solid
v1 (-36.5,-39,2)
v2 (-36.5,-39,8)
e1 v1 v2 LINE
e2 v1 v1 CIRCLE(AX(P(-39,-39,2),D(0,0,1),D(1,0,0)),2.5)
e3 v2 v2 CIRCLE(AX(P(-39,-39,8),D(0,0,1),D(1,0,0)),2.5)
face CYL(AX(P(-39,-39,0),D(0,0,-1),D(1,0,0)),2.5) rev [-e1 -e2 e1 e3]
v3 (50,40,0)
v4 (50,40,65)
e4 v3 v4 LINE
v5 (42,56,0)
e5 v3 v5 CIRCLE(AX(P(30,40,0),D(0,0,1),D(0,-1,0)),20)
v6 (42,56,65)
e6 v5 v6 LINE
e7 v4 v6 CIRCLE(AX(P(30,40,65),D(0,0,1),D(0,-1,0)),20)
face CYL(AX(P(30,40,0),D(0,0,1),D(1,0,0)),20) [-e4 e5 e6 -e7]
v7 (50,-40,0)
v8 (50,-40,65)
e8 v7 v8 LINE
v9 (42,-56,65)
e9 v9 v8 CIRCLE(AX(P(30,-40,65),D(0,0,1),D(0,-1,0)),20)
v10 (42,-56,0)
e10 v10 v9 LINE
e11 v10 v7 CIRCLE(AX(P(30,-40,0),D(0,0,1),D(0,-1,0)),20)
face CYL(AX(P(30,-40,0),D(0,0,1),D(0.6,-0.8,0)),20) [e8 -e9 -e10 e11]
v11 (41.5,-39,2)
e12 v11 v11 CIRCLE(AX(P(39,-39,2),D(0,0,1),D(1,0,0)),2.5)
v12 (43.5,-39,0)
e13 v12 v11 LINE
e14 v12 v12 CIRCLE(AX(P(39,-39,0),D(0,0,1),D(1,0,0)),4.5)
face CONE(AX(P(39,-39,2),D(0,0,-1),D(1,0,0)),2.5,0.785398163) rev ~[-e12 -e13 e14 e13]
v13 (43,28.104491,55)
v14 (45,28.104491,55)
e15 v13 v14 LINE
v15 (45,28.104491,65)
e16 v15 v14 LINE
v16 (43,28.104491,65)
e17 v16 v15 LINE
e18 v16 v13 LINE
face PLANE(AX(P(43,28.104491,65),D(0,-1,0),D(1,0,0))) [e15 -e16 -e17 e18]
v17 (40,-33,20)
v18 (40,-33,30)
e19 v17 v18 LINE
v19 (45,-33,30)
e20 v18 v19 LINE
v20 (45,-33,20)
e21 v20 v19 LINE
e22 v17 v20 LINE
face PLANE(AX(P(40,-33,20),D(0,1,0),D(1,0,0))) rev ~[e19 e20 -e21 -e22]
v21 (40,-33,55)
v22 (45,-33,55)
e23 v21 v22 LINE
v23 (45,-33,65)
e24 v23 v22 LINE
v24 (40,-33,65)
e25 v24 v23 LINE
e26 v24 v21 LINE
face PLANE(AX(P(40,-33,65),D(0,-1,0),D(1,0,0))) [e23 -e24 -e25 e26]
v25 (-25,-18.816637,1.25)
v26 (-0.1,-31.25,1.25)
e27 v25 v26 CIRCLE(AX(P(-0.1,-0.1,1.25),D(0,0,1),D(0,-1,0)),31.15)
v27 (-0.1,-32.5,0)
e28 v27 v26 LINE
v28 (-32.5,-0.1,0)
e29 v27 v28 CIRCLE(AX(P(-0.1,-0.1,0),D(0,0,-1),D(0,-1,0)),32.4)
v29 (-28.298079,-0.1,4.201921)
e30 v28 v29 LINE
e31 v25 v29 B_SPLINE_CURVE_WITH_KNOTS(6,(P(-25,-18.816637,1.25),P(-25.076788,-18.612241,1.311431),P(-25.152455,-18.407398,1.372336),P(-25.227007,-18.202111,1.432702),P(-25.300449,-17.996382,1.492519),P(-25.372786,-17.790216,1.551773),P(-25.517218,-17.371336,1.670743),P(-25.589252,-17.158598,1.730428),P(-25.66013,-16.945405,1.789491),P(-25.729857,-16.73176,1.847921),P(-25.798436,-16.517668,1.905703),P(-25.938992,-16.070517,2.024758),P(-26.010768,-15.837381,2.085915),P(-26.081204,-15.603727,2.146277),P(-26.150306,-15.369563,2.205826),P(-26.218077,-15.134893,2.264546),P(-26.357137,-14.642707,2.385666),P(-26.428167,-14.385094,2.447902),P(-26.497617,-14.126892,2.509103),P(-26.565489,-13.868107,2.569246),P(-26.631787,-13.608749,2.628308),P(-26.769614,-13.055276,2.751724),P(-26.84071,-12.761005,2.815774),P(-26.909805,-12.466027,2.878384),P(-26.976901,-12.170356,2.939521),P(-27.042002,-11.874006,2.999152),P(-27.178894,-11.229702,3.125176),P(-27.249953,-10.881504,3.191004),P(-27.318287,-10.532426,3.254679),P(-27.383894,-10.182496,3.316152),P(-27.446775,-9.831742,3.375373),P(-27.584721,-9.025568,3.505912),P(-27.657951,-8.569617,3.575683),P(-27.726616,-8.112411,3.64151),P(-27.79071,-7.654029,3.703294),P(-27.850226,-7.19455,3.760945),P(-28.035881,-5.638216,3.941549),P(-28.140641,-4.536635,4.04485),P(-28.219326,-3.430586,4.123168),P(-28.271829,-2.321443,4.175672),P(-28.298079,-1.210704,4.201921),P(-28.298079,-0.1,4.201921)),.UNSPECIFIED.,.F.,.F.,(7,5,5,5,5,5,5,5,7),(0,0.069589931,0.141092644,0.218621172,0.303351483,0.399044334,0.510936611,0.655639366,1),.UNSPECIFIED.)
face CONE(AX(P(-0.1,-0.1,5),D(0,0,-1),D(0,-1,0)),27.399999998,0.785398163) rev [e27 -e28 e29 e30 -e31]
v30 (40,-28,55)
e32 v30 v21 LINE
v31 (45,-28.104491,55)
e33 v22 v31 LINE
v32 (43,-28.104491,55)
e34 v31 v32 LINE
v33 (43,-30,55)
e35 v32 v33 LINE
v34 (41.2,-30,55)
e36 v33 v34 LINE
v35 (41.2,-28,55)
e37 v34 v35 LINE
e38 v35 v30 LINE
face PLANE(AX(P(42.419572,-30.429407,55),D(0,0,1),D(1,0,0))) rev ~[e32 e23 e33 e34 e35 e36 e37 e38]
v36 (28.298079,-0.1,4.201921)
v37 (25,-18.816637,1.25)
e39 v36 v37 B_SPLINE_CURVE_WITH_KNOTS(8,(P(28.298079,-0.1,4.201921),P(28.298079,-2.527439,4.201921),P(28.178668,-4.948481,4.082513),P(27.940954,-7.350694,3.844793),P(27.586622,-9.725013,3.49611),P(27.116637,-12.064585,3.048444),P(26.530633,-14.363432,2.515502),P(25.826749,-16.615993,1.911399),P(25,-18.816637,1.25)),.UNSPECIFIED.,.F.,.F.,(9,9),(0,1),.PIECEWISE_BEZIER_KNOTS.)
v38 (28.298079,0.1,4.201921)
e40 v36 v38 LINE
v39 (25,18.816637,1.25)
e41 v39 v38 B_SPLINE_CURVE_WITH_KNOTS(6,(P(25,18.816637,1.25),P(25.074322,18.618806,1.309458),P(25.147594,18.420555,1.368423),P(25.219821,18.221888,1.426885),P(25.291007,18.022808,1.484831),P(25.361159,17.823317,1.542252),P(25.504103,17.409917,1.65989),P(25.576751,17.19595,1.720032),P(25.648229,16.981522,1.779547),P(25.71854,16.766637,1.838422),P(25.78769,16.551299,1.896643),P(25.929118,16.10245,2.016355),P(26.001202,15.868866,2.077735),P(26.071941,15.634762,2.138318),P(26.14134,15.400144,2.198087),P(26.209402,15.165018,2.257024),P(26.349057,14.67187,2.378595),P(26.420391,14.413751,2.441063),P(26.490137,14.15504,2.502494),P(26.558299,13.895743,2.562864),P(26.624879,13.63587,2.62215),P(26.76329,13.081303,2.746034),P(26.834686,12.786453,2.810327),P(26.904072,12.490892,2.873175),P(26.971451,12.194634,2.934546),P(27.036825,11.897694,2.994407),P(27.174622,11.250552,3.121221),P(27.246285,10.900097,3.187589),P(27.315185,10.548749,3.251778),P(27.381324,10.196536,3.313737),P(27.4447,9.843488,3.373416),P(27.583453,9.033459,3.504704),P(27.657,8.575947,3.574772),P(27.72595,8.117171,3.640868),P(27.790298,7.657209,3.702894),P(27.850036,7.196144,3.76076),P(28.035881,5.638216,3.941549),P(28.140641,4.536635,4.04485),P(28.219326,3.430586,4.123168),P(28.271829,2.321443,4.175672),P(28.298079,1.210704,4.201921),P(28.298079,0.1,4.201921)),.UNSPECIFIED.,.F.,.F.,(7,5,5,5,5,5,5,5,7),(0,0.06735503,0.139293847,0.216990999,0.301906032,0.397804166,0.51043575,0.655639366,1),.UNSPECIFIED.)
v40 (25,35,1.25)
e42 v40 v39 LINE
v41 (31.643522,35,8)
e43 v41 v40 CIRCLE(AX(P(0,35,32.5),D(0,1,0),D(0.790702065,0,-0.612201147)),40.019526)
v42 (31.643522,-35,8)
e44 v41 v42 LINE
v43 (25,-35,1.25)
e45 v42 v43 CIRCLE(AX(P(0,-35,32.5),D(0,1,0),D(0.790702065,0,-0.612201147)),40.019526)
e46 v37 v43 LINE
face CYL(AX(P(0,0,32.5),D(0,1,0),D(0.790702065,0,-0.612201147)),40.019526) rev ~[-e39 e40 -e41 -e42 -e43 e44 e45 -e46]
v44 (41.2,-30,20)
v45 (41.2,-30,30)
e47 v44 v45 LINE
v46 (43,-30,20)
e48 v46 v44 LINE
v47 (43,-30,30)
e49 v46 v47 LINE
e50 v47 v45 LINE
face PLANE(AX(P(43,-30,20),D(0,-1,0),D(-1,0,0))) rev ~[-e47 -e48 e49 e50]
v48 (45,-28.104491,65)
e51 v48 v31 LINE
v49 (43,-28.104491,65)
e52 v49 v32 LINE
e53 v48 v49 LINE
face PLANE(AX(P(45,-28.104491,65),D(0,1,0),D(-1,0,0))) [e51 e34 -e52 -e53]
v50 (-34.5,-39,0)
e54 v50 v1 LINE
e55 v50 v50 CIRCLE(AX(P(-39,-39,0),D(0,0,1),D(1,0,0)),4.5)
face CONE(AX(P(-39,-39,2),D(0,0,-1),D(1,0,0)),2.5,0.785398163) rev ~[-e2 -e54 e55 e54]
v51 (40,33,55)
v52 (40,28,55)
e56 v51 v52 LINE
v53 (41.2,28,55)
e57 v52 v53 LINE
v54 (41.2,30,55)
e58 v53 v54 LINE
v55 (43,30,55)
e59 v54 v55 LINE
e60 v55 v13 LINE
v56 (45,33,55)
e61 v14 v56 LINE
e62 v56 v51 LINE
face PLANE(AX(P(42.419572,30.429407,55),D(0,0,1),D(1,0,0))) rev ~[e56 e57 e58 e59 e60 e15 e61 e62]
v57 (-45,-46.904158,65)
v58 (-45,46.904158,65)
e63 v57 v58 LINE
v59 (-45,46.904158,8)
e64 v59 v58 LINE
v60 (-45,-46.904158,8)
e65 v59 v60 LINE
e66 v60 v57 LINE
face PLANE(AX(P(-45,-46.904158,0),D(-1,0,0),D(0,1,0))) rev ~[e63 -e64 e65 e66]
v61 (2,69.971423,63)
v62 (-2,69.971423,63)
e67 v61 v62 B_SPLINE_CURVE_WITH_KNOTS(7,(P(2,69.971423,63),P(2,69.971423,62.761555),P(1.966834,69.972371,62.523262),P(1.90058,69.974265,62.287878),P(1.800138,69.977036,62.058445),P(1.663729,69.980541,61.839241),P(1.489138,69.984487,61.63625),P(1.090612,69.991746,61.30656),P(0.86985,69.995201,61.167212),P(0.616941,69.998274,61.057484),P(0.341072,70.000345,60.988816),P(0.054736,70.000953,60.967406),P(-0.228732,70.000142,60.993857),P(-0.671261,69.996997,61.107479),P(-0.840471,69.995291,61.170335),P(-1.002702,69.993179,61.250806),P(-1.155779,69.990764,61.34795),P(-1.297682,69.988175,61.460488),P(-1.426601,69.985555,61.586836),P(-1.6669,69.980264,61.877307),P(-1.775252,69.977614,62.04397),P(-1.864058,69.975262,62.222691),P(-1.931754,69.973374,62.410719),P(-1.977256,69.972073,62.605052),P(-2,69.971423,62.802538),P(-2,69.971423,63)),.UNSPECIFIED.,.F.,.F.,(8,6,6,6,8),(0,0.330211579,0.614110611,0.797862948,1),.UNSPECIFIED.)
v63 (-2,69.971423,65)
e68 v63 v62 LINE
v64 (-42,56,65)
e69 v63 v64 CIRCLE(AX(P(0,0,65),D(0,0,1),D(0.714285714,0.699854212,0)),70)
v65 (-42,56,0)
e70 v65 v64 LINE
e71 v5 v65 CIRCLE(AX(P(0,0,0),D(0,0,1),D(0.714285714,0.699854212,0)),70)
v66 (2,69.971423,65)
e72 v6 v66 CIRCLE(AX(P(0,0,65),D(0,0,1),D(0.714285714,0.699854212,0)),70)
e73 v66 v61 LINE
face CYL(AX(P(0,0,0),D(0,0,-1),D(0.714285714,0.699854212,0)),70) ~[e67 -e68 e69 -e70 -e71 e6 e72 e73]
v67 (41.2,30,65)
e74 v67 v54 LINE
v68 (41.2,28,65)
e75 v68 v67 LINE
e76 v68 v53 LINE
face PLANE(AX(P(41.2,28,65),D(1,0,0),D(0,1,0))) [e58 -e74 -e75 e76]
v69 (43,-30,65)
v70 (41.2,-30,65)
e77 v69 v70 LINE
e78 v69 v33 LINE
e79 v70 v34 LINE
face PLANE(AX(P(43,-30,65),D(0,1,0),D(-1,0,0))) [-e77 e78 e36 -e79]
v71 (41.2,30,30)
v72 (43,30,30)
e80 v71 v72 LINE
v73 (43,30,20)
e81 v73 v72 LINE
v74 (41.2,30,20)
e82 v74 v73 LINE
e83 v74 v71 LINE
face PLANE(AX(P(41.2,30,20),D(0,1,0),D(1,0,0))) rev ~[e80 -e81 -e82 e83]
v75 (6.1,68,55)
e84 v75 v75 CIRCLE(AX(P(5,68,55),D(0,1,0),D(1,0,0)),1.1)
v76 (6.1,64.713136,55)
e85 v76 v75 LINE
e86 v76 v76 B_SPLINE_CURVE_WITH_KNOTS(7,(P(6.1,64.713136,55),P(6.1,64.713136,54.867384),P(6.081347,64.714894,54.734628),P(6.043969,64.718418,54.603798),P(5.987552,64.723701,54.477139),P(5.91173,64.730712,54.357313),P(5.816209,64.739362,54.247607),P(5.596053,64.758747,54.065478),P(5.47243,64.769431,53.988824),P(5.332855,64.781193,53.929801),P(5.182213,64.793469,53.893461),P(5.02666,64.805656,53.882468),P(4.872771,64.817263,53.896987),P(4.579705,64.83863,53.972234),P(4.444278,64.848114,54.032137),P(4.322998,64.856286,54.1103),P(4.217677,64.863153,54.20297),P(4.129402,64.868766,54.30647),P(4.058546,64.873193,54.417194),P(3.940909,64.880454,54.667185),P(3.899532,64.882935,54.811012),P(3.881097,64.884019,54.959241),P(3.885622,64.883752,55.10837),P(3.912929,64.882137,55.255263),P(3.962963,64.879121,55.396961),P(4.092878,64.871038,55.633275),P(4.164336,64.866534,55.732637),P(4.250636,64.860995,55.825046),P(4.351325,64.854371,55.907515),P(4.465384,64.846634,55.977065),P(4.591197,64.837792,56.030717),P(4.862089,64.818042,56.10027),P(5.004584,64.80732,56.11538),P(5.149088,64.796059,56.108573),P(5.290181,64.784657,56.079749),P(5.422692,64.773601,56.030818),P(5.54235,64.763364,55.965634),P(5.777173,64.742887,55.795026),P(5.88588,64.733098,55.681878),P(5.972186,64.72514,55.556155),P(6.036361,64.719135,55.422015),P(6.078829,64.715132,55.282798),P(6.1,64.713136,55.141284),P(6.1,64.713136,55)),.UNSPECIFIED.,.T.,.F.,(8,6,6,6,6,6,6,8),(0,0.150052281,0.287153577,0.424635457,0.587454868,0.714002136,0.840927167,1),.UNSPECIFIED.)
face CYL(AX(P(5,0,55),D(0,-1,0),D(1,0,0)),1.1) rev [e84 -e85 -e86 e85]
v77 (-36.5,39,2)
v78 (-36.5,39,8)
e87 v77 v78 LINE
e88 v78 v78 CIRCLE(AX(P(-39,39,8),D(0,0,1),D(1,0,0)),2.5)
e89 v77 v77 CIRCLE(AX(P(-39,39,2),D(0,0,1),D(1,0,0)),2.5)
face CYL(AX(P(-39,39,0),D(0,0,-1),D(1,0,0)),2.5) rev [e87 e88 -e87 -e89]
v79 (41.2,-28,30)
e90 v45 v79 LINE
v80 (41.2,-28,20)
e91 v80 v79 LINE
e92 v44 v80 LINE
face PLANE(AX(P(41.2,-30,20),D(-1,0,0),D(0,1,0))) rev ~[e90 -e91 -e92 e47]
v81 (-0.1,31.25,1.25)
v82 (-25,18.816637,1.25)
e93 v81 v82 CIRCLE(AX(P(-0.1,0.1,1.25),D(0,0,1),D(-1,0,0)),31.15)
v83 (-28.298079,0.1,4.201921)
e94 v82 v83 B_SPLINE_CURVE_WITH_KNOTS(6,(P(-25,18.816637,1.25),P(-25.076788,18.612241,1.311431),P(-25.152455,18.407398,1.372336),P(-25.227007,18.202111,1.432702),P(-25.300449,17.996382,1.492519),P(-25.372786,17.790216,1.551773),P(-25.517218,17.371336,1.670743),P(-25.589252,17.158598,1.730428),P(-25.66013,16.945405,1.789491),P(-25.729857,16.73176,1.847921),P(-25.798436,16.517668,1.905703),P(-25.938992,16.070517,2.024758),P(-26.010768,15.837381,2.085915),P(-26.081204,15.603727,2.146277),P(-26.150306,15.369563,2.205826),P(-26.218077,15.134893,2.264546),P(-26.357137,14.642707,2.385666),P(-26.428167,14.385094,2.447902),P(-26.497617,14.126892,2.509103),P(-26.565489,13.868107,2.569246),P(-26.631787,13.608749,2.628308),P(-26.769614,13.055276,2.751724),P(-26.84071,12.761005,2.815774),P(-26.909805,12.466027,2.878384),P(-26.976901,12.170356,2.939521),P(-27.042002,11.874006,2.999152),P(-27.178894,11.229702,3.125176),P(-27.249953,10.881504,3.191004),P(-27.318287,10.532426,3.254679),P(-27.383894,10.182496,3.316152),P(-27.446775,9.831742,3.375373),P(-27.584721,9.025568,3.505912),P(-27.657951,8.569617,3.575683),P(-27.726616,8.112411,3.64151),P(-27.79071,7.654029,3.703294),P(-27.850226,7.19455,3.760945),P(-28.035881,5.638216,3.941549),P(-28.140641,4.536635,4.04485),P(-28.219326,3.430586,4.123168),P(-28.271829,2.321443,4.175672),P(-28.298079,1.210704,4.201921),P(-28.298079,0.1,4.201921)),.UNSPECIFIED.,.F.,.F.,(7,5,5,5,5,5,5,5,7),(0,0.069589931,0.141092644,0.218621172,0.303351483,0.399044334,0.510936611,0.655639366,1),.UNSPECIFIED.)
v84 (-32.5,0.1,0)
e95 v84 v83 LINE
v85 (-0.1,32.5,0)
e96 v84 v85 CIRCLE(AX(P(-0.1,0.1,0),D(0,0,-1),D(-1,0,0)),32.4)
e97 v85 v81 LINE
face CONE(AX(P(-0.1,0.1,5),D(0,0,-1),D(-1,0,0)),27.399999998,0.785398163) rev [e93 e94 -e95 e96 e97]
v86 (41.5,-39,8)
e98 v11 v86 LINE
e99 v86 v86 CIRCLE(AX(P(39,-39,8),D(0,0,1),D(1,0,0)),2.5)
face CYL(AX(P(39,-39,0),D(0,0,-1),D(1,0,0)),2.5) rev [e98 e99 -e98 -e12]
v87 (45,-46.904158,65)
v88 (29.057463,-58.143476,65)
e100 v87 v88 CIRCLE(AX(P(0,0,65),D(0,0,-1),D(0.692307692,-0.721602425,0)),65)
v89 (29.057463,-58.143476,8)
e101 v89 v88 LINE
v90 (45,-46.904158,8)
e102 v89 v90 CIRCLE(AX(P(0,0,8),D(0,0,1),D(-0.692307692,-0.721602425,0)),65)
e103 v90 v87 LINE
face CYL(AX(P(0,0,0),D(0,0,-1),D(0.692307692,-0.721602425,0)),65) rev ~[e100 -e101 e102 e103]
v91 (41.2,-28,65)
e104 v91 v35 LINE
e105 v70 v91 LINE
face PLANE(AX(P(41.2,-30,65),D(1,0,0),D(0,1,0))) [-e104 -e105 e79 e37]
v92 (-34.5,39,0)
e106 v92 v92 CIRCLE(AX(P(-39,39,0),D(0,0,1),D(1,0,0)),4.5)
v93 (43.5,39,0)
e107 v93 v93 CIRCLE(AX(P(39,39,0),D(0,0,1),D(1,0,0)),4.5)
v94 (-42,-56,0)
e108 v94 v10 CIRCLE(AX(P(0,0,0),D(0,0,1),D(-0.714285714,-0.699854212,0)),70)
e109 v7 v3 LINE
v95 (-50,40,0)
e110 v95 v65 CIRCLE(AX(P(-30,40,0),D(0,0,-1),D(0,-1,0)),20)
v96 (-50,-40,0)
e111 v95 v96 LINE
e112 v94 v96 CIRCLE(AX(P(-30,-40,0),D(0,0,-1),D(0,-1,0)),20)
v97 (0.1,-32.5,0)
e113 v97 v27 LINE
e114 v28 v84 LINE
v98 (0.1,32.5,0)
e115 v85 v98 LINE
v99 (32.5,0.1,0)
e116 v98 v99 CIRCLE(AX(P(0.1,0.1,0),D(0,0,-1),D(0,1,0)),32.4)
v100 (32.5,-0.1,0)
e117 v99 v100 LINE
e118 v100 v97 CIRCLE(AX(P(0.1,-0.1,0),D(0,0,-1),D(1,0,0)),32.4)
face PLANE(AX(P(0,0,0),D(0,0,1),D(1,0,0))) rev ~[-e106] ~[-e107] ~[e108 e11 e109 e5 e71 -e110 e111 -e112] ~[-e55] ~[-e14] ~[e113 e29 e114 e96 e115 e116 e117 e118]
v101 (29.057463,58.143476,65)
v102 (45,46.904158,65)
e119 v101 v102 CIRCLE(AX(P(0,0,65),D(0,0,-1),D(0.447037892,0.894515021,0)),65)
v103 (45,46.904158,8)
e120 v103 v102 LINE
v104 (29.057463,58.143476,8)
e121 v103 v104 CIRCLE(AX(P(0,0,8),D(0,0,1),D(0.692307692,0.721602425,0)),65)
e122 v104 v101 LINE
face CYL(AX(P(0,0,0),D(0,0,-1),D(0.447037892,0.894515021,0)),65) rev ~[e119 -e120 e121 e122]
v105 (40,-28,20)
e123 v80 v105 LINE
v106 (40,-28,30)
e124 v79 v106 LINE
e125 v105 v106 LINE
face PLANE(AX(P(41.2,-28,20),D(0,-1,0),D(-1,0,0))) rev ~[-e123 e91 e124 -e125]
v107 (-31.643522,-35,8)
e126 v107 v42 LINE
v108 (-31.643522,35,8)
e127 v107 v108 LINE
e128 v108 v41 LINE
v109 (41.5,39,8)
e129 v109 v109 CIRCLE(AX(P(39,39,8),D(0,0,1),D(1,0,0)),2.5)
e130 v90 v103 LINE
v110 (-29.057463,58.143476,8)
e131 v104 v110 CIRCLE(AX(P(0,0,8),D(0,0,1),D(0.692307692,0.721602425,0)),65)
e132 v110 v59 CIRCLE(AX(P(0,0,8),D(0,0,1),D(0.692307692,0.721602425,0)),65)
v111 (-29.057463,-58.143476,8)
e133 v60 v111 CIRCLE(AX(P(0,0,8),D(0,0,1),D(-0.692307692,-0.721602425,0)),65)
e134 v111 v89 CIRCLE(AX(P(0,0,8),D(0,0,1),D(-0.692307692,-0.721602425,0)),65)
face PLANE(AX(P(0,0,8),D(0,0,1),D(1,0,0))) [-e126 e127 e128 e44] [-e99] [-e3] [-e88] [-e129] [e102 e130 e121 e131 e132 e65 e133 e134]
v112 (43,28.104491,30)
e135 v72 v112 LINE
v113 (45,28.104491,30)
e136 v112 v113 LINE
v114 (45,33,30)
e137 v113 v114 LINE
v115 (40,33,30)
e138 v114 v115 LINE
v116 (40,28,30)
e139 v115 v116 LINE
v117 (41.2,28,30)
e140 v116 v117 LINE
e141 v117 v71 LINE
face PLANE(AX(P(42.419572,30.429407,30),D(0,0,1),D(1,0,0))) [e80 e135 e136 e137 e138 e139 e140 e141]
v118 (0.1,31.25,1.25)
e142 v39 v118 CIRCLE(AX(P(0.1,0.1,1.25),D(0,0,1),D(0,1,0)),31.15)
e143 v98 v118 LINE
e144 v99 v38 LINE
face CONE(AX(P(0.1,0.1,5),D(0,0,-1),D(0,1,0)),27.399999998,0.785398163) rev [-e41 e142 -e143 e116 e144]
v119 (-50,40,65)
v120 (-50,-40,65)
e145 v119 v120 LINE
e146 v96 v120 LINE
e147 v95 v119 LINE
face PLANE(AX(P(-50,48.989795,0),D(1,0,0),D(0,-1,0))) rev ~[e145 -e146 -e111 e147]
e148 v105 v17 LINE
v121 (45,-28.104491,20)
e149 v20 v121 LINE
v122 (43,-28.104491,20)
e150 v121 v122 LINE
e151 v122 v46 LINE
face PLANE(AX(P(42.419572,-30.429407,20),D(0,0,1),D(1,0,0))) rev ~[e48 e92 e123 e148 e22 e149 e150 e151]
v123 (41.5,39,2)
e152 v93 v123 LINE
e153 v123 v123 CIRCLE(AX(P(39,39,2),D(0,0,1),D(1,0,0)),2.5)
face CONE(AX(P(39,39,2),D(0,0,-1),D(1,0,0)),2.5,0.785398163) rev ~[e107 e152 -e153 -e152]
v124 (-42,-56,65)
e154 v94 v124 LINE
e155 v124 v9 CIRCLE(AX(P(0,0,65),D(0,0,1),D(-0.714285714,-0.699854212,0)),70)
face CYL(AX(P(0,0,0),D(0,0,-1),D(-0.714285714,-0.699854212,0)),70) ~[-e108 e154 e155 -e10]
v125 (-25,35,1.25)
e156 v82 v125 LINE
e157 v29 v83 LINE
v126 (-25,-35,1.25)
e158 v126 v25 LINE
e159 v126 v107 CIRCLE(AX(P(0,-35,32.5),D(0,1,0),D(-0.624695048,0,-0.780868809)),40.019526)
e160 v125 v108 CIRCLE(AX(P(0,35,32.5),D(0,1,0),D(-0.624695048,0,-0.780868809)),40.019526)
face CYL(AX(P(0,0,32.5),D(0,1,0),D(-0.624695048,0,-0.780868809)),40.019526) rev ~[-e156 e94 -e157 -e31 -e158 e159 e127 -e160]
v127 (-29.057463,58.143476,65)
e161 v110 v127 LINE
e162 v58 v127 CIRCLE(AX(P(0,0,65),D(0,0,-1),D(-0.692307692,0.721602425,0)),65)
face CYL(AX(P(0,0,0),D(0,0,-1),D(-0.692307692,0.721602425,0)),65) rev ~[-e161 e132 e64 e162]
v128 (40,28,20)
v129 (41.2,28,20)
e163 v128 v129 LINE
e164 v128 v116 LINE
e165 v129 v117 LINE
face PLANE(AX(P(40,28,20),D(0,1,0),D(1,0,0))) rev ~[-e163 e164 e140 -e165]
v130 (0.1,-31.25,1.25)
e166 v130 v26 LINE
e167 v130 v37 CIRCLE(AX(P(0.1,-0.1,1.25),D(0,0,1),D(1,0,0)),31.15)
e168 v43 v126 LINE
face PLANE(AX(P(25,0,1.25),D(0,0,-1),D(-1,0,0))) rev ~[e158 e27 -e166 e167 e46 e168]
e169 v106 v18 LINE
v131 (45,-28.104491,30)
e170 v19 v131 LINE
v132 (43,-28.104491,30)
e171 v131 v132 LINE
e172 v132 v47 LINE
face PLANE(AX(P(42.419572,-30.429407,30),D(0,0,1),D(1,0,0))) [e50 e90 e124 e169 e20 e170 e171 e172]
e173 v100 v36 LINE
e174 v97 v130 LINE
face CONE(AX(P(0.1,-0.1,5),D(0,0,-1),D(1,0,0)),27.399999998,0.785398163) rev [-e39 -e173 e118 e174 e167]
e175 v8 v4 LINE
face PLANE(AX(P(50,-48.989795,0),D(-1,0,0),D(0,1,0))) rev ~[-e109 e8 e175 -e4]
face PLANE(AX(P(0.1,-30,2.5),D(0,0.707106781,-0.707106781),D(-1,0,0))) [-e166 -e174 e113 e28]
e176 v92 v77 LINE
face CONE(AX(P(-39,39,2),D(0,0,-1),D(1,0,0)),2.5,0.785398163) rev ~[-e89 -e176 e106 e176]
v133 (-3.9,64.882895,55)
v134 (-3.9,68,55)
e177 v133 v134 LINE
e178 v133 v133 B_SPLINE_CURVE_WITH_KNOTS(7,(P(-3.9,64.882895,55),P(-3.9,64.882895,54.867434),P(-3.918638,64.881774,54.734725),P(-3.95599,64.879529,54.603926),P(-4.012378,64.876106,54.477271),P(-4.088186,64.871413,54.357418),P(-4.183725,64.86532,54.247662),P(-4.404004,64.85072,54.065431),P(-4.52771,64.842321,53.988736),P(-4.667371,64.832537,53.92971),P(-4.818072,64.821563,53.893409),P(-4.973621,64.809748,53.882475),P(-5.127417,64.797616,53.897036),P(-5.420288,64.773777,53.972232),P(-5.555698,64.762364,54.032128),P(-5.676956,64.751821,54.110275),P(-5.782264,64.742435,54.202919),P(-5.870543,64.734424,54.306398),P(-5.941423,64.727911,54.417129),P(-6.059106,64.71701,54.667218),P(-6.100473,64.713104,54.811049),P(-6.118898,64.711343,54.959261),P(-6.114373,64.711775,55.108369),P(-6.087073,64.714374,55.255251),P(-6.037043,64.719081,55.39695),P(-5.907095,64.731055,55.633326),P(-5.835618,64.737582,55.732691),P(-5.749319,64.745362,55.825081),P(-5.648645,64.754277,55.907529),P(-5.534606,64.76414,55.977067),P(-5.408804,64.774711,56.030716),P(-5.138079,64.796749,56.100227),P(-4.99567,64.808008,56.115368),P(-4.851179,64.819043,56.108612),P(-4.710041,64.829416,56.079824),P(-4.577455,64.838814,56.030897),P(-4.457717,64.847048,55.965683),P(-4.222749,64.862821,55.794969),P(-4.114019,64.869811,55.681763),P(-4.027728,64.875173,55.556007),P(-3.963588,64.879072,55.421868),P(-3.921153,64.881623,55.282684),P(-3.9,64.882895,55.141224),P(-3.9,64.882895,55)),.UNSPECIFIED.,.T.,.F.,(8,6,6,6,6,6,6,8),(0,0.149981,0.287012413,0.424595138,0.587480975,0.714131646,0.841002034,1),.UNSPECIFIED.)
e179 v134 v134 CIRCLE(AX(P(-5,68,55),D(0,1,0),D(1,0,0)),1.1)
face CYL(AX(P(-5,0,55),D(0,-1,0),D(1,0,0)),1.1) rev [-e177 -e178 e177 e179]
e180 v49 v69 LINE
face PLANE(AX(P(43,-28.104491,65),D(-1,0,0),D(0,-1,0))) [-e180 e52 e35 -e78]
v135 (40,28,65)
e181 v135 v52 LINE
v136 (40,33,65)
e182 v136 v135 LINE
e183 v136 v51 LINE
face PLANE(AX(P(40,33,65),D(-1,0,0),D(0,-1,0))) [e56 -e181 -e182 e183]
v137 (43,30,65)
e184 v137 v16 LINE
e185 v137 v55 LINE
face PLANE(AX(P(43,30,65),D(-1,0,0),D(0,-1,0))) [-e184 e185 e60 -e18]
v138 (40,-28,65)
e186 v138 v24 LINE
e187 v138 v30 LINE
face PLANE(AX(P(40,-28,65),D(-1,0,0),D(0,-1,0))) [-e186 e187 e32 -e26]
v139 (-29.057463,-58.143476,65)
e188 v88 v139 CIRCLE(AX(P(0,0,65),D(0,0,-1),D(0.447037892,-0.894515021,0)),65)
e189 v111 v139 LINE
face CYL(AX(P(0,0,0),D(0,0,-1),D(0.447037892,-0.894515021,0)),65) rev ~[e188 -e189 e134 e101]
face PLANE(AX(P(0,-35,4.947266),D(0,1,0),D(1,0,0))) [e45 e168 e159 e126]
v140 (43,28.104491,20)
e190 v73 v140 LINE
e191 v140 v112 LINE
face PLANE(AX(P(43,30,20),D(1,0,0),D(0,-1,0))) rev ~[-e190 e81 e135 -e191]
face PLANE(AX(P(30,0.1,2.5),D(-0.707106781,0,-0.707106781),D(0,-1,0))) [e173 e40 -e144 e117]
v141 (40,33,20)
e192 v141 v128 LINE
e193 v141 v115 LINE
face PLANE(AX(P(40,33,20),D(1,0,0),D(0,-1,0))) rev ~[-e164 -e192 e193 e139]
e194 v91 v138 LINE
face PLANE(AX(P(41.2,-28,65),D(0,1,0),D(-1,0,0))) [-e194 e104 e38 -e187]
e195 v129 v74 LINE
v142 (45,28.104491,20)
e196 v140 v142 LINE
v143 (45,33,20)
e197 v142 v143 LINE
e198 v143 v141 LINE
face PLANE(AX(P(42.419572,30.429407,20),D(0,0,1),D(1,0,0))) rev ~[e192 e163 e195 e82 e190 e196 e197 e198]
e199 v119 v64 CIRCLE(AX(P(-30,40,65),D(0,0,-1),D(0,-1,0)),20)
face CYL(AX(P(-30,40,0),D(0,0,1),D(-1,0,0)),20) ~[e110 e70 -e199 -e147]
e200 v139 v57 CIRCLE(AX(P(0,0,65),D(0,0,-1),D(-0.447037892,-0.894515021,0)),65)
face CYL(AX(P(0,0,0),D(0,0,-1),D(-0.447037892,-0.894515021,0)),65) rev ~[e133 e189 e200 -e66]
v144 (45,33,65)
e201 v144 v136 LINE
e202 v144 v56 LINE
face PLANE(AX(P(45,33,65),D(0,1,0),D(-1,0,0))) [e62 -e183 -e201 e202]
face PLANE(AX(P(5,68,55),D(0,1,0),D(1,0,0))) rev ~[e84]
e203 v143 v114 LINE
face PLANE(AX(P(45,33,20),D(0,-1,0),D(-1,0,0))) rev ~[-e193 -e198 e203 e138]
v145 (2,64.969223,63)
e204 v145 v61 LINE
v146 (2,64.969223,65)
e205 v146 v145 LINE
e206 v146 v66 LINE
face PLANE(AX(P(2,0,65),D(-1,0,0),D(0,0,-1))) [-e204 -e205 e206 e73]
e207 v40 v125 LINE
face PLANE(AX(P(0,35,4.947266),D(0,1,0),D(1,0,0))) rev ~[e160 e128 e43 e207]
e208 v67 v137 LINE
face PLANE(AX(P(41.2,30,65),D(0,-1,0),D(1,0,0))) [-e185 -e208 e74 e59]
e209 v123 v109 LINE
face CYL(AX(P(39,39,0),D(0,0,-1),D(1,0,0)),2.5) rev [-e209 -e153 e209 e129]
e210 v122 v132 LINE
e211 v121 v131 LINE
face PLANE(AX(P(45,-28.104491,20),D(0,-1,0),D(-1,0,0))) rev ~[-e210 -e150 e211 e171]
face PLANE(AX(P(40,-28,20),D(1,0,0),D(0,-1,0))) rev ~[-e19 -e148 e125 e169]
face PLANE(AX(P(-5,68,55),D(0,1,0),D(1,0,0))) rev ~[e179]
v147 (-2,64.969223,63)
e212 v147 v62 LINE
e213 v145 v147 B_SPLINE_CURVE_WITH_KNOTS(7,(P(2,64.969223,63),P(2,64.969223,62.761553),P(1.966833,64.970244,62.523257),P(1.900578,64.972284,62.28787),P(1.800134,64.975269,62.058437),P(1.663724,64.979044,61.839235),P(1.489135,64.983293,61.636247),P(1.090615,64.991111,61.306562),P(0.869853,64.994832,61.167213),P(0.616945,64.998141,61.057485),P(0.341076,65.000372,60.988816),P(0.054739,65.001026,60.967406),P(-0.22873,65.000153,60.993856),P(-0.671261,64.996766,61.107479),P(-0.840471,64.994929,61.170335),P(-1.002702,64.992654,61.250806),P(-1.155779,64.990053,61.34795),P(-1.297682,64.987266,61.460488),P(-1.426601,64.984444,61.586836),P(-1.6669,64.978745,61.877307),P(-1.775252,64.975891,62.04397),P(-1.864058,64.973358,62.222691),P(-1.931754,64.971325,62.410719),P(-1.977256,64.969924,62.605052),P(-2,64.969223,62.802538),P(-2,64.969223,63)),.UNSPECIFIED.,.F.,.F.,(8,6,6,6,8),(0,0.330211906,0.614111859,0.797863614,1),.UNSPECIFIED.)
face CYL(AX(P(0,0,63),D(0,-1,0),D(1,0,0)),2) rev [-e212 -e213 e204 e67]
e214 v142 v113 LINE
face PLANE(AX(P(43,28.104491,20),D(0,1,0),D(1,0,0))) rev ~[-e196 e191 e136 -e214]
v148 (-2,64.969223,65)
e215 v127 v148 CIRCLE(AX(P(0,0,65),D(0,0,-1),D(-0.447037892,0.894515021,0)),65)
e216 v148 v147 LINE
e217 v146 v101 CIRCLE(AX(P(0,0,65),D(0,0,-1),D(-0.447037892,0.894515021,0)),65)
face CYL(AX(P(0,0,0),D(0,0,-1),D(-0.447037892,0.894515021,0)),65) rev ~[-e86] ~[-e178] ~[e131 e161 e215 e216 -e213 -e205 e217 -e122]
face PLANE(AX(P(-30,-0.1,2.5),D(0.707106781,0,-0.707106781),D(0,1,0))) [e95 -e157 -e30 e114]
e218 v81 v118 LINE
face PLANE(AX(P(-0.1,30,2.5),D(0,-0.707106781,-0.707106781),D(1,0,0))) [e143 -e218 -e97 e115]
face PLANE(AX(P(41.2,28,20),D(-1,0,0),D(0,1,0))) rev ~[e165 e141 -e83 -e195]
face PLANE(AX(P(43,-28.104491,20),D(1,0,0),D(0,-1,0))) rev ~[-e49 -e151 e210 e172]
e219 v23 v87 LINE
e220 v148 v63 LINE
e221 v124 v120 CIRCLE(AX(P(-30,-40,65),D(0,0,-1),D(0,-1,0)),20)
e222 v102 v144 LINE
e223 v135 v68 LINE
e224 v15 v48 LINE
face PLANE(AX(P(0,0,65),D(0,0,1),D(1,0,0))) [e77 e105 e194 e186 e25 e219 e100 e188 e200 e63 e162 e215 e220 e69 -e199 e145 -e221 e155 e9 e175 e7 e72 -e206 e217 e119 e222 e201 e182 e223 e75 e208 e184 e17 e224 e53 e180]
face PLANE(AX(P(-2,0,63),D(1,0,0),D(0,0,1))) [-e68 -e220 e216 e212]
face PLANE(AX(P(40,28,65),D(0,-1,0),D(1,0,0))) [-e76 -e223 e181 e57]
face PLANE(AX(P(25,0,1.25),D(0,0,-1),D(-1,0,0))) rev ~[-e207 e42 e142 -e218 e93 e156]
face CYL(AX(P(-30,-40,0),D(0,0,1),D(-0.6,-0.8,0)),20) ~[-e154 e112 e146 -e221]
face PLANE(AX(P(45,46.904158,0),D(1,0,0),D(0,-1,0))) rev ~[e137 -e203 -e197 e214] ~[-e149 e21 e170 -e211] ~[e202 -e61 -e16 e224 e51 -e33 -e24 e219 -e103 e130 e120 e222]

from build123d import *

# Parameters (mm, degrees)
EXTRUDE_2_DEPTH     = 65
SKETCH_1_3_R        = 2.5
BOSS_EXTRUDE1_DEPTH = 8
FILLET1_R           = 20
CHAMFER3_SIZE       = 5
BOSS_EXTRUDE3_DEPTH = 10
BOSS_EXTRUDE4_START = -45
BOSS_EXTRUDE4_DEPTH = 10
CUT_EXTRUDE2_DEPTH  = 108.819293264
SKETCH5_4_R         = 1.1
CUT_EXTRUDE3_DEPTH  = 68
CUT_EXTRUDE4_DEPTH  = 35
CHAMFER4_SIZE       = 2


with BuildPart() as part:
    # Эскиз1 → Extrude 2 (new body)
    with BuildSketch(Plane.XY):
        with BuildLine():
            ThreePointArc((-50, -48.989794856), (0, -70), (50, -48.989794856))
            Line((50, -48.989794856), (50, 48.989794856))
            ThreePointArc((50, 48.989794856), (0, 70), (-50, 48.989794856))
            Line((-50, 48.989794856), (-50, -48.989794856))
        make_face()
        with BuildLine():
            Line((45, -29.057462995), (45, -46.904157598))
            ThreePointArc((45, -46.904157598), (37.452737255, -53.125252678), (29.057462995, -58.143476369))
            ThreePointArc((29.057462995, -58.143476369), (0, -65), (-29.057462995, -58.143476369))
            ThreePointArc((-29.057462995, -58.143476369), (-37.452737255, -53.125252678), (-45, -46.904157598))
            Line((-45, -46.904157598), (-45, -29.057462995))
            Line((-45, -29.057462995), (-45, 29.057462995))
            Line((-45, 29.057462995), (-45, 46.904157598))
            ThreePointArc((-45, 46.904157598), (-37.452737255, 53.125252678), (-29.057462995, 58.143476369))
            ThreePointArc((-29.057462995, 58.143476369), (0, 65), (29.057462995, 58.143476369))
            ThreePointArc((29.057462995, 58.143476369), (37.452737255, 53.125252678), (45, 46.904157598))
            Line((45, 46.904157598), (45, 29.057462995))
            Line((45, 29.057462995), (45, -29.057462995))
        make_face(mode=Mode.SUBTRACT)
    extrude(amount=EXTRUDE_2_DEPTH)

    # Эскиз1<3> → Boss-Extrude1 (add)
    with BuildSketch(Plane.XY):
        with BuildLine():
            Line((45, -46.904157598), (45, 46.904157598))
            ThreePointArc((45, 46.904157598), (0, 65), (-45, 46.904157598))
            Line((-45, 46.904157598), (-45, -46.904157598))
            ThreePointArc((-45, -46.904157598), (0, -65), (45, -46.904157598))
        make_face()
        with Locations((39, -39)):
            Circle(SKETCH_1_3_R, mode=Mode.SUBTRACT)
        with BuildLine():
            Line((27.5, 0.1), (27.5, -0.1))
            ThreePointArc((27.5, -0.1), (19.474725805, -19.474725805), (0.1, -27.5))
            Line((0.1, -27.5), (-0.1, -27.5))
            ThreePointArc((-0.1, -27.5), (-19.474725805, -19.474725805), (-27.5, -0.1))
            Line((-27.5, -0.1), (-27.5, 0.1))
            ThreePointArc((-27.5, 0.1), (-19.474725805, 19.474725805), (-0.1, 27.5))
            Line((-0.1, 27.5), (0.1, 27.5))
            ThreePointArc((0.1, 27.5), (19.474725805, 19.474725805), (27.5, 0.1))
        make_face(mode=Mode.SUBTRACT)
        with Locations((-39, -39)):
            Circle(SKETCH_1_3_R, mode=Mode.SUBTRACT)
        with Locations((-39, 39)):
            Circle(SKETCH_1_3_R, mode=Mode.SUBTRACT)
        with Locations((39, 39)):
            Circle(SKETCH_1_3_R, mode=Mode.SUBTRACT)
    extrude(amount=BOSS_EXTRUDE1_DEPTH)

    # Fillet1
    fillet1_edges = [part.edges().sort_by_distance(p)[0] for p in [
        (50, -48.989794856, 32.5),
        (-50, -48.989794856, 32.5),
        (-50, 48.989794856, 32.5),
        (50, 48.989794856, 32.5),
    ]]
    fillet(fillet1_edges, radius=FILLET1_R)

    # Chamfer3
    chamfer3_edges = [part.edges().sort_by_distance(p)[0] for p in [
        (27.5, 0, 0),
        (19.474725805, 19.474725805, 0),
        (19.474725805, -19.474725805, 0),
        (0, 27.5, 0),
        (0, -27.5, 0),
        (-19.474725805, 19.474725805, 0),
        (-19.474725805, -19.474725805, 0),
        (-27.5, 0, 0),
    ]]
    chamfer(chamfer3_edges, length=CHAMFER3_SIZE)

    # Sketch3 → Boss-Extrude3 (add)
    with BuildSketch(Plane.XY.offset(65)):
        Polygon((41.2, -30), (41.2, -28), (40, -28), (40, -33), (45, -33), (45, -28.104490543), (43, -28.104490543), (43, -30), align=None)
        Polygon((45, 28.104490543), (45, 33), (40, 33), (40, 28), (41.2, 28), (41.2, 30), (43, 30), (43, 28.104490543), align=None)
    extrude(amount=-BOSS_EXTRUDE3_DEPTH)

    # Sketch3<2> → Boss-Extrude4 (add)
    with BuildSketch(Plane.XY.offset(65).offset(BOSS_EXTRUDE4_START)):
        Polygon((41.2, -30), (41.2, -28), (40, -28), (40, -33), (45, -33), (45, -28.104490543), (43, -28.104490543), (43, -30), align=None)
        Polygon((45, 28.104490543), (45, 33), (40, 33), (40, 28), (41.2, 28), (41.2, 30), (43, 30), (43, 28.104490543), align=None)
    extrude(amount=BOSS_EXTRUDE4_DEPTH)

    # Sketch5 → Cut-Extrude2 (cut, through all)
    with BuildSketch(Plane(origin=(0, 0, 0), x_dir=(1, 0, 0), z_dir=(0, 1, 0))):
        with BuildLine():
            ThreePointArc((2, -63), (0, -61), (-2, -63))
            Line((-2, -63), (-2, -65))
            Line((-2, -65), (2, -65))
            Line((2, -65), (2, -63))
        make_face()
    extrude(amount=CUT_EXTRUDE2_DEPTH, mode=Mode.SUBTRACT)

    # Sketch5<4> → Cut-Extrude3 (cut)
    with BuildSketch(Plane(origin=(0, 0, 0), x_dir=(1, 0, 0), z_dir=(0, 1, 0))):
        with Locations((5, -55)):
            Circle(SKETCH5_4_R)
        with Locations((-5, -55)):
            Circle(SKETCH5_4_R)
    extrude(amount=CUT_EXTRUDE3_DEPTH, mode=Mode.SUBTRACT)

    # Sketch6 → Cut-Extrude4 (cut, symmetric)
    with BuildSketch(Plane(origin=(0, 0, 0), x_dir=(1, 0, 0), z_dir=(0, 1, 0))):
        with BuildLine():
            Line((25, -1.25), (-25, -1.25))
            ThreePointArc((-25, -1.25), (-28.522145397, -4.427776683), (-31.643522244, -8))
            Line((-31.643522244, -8), (31.643522244, -8))
            ThreePointArc((31.643522244, -8), (28.522145397, -4.427776683), (25, -1.25))
        make_face()
    extrude(amount=CUT_EXTRUDE4_DEPTH, both=True, mode=Mode.SUBTRACT)

    # Chamfer4
    chamfer4_edges = [part.edges().sort_by_distance(p)[0] for p in [
        (36.5, 39, 0),
        (-41.5, 39, 0),
        (-41.5, -39, 0),
        (36.5, -39, 0),
    ]]
    chamfer(chamfer4_edges, length=CHAMFER4_SIZE)


solid = part.part
